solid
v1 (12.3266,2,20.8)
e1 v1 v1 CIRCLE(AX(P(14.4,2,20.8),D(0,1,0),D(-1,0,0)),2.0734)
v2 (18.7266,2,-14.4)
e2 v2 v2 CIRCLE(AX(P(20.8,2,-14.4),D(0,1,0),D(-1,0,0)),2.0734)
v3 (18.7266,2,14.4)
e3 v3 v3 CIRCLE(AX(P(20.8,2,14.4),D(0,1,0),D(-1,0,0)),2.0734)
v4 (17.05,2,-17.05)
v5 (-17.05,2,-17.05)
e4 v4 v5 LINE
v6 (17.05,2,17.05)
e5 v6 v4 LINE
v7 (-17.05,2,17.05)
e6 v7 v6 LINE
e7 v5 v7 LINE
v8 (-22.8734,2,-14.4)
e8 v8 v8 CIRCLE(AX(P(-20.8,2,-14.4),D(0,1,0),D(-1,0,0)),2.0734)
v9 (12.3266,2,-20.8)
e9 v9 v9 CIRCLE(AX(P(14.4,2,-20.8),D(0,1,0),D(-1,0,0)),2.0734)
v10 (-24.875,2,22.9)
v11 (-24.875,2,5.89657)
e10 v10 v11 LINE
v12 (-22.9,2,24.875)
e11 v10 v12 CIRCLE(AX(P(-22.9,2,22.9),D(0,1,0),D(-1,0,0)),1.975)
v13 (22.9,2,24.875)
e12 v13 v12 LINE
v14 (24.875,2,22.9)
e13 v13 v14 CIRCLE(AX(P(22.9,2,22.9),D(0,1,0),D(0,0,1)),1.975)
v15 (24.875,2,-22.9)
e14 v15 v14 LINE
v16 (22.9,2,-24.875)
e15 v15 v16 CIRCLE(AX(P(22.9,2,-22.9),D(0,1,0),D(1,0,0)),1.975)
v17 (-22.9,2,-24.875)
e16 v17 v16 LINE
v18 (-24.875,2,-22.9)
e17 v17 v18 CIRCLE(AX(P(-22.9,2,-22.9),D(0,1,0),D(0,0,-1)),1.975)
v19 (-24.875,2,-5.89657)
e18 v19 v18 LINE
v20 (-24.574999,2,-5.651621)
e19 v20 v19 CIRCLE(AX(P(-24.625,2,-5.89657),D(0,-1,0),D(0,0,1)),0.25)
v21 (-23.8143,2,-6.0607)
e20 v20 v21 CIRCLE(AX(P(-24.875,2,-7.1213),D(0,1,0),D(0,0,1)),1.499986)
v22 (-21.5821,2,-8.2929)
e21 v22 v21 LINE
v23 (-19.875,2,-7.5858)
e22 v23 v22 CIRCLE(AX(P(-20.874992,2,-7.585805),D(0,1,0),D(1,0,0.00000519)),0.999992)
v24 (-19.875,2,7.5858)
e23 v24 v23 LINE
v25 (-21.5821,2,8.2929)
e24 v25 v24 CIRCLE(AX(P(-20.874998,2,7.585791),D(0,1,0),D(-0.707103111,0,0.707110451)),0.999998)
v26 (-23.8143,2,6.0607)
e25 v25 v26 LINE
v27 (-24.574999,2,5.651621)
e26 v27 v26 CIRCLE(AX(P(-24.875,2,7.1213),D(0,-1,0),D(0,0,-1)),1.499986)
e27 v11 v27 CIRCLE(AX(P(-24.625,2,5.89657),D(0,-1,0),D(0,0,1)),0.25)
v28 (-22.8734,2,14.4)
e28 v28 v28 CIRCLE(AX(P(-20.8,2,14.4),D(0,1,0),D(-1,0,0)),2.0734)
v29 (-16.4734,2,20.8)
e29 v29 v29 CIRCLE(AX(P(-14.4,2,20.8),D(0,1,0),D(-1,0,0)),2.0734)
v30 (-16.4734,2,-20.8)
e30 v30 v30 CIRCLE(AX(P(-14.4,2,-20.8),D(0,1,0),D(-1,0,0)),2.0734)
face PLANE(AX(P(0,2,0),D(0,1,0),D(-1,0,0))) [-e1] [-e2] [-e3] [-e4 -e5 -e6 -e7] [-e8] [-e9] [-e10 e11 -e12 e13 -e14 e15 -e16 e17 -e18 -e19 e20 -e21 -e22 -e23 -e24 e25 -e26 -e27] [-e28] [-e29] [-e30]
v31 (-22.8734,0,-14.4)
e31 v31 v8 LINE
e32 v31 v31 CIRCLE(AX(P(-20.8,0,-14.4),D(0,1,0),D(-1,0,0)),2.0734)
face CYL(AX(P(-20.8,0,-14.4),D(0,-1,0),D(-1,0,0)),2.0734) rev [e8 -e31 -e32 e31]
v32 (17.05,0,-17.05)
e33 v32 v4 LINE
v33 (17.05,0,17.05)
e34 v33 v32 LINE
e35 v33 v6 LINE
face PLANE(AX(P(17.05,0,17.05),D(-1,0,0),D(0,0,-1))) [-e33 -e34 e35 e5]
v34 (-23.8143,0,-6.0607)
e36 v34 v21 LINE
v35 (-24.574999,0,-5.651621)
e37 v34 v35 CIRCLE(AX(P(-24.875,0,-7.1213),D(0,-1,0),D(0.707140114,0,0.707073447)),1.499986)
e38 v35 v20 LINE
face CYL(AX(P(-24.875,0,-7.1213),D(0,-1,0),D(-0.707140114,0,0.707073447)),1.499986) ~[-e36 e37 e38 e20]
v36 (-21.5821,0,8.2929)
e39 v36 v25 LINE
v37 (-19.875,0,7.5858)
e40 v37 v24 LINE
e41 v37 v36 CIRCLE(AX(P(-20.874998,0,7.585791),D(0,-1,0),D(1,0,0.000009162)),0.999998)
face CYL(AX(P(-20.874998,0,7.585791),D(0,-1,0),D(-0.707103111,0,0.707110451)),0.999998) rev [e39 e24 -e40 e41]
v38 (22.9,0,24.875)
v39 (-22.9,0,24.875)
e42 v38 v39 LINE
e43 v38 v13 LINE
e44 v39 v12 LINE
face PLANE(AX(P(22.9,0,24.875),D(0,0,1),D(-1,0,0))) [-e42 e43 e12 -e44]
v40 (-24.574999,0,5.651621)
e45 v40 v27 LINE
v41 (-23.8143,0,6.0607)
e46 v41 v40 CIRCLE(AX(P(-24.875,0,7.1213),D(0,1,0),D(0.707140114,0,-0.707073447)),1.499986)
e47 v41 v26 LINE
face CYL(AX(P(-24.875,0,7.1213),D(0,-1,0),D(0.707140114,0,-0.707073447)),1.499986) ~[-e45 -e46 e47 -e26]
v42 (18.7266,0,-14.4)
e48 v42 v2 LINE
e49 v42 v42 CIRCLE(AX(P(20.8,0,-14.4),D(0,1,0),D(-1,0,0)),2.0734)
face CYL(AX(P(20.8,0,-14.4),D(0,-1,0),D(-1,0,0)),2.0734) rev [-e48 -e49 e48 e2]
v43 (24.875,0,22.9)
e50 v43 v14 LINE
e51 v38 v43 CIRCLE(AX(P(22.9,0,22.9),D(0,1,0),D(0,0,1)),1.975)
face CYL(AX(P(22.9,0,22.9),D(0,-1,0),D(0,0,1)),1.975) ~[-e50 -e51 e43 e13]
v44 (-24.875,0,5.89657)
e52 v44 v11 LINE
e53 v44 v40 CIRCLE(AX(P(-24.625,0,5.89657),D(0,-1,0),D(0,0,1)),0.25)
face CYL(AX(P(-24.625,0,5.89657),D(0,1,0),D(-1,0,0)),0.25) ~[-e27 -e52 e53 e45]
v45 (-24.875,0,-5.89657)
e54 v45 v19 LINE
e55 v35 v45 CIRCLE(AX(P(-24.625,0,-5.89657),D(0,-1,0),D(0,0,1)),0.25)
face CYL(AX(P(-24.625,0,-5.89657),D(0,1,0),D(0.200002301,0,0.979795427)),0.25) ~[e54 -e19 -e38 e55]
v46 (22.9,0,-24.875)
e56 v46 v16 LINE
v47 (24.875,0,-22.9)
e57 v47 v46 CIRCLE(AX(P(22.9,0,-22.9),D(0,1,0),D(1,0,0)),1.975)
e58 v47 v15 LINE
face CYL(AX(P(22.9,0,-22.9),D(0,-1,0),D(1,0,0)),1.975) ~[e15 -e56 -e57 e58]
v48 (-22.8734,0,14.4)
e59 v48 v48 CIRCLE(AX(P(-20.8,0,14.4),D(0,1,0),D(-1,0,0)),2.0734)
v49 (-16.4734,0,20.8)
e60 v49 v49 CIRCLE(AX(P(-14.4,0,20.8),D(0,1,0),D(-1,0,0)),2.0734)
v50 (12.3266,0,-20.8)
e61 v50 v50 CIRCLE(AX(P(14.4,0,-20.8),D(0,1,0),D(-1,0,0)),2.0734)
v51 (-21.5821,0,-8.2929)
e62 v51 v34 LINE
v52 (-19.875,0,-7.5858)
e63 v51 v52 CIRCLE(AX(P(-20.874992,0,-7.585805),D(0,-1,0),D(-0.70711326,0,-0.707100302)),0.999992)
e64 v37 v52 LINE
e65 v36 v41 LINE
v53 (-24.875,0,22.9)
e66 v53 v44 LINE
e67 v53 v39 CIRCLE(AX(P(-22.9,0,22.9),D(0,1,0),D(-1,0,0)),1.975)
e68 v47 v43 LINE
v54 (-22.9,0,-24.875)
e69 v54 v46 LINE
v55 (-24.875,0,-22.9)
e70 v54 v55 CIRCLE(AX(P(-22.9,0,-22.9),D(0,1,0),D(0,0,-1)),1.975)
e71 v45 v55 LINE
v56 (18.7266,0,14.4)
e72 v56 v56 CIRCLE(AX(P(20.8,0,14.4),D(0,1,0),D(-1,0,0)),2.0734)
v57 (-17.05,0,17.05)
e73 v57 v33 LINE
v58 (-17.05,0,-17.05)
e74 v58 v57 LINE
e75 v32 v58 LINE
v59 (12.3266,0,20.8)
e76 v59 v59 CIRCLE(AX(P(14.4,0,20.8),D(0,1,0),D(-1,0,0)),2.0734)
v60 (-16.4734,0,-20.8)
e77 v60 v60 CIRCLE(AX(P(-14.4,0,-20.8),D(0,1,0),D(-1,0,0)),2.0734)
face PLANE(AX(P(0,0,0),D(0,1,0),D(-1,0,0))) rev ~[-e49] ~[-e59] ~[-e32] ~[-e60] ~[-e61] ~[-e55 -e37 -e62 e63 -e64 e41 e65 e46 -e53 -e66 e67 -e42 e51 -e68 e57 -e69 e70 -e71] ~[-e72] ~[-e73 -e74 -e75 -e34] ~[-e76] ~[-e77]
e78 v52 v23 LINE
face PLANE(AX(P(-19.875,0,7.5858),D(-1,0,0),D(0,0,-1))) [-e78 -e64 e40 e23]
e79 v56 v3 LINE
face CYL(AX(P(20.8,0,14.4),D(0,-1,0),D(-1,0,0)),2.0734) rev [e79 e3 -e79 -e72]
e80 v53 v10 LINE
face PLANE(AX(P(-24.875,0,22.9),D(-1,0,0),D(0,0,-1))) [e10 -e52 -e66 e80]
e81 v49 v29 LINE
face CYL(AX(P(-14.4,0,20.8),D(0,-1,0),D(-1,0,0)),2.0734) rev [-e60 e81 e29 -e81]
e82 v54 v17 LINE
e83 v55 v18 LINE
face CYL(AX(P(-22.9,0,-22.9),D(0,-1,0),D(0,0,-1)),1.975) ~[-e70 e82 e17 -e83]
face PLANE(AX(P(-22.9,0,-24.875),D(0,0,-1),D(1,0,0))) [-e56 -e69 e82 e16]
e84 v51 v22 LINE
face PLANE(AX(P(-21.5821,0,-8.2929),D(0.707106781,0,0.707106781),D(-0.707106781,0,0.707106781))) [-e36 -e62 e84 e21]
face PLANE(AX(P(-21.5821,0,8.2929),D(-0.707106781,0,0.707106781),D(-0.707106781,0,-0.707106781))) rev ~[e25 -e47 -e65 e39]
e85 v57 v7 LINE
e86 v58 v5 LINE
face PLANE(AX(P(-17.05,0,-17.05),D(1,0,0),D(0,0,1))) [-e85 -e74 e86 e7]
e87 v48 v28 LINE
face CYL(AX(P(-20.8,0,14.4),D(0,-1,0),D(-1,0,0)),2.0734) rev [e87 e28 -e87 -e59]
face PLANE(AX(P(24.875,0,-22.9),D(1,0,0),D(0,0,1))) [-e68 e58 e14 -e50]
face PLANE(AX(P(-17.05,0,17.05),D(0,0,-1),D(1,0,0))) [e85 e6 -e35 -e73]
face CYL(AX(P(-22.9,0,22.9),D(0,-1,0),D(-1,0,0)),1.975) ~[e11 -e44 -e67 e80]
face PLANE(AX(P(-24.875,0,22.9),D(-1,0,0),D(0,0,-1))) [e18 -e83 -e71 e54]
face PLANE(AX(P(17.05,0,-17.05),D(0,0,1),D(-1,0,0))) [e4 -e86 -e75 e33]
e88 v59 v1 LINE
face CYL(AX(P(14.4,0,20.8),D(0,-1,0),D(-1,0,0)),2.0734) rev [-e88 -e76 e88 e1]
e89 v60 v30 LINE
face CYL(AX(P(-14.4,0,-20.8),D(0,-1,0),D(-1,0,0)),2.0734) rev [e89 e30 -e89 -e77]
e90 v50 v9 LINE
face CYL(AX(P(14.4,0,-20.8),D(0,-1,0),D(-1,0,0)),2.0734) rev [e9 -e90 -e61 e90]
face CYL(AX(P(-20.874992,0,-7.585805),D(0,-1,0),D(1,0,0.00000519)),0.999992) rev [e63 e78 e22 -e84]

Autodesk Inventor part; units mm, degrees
ref_plane "YZ Plane" through (0, 0, 0) normal (1, 0, 0) x (0, 1, 0)
ref_plane "XZ Plane" through (0, 0, 0) normal (0, 1, 0) x (-1, 0, 0)
ref_plane "XY Plane" through (0, 0, 0) normal (0, 0, 1) x (1, 0, 0)
sketch "Sketch1" plane through (0, 0, 0) normal (0, 1, 0) x (-1, 0, 0)
  circle A0 centre (-21.9, -21.9) radius 1.875 projected
  circle A1 centre (21.9, 21.9) radius 1.875 projected
  circle A2 centre (21.9, -21.9) radius 1.875 projected
  circle A3 centre (-21.9, 21.9) radius 1.875 projected
  circle A4 centre (14.4, 20.8) radius 2.0734 projected
  circle A5 centre (-14.4, -20.8) radius 2.0734 projected
  circle A6 centre (14.4, -20.8) radius 2.0734 projected
  circle A7 centre (20.8, -14.4) radius 2.0734 projected
  line L0 (-17.05, 17.05) -> (-17.05, -17.05) projected
  line L1 (17.05, 17.05) -> (-17.05, 17.05) projected
  line L2 (17.05, -17.05) -> (17.05, 17.05) projected
  line L3 (-17.05, -17.05) -> (17.05, -17.05) projected
  circle A8 centre (20.8, 14.4) radius 2.0734 projected
  circle A9 centre (-14.4, 20.8) radius 2.0734 projected
  circle A10 centre (-20.8, -14.4) radius 2.0734 projected
  circle A11 centre (-20.8, 14.4) radius 2.0734 projected
  line L4 (-22.9, 24.875) -> (22.9, 24.875) projected
  arc A12 (-22.9, 24.875) -> (-24.875, 22.9) centre (-22.9, 22.9) ccw projected
  line L5 (-24.875, -22.9) -> (-24.875, 22.9) projected
  arc A13 (-24.875, -22.9) -> (-22.9, -24.875) centre (-22.9, -22.9) ccw projected
  line L6 (22.9, -24.875) -> (-22.9, -24.875) projected
  arc A14 (22.9, -24.875) -> (24.875, -22.9) centre (22.9, -22.9) ccw projected
  line L7 (24.875, 22.9) -> (24.875, -22.9) projected
  arc A15 (24.875, 22.9) -> (22.9, 24.875) centre (22.9, 22.9) ccw projected
  arc A16 (24.9, 22.9) -> (22.9, 24.9) centre (22.9, 22.9) ccw projected
  line L8 (22.9, 24.9) -> (-22.9, 24.9) projected
  arc A17 (-22.9, 24.9) -> (-24.9, 22.9) centre (-22.9, 22.9) ccw projected
  line L9 (-24.9, 22.9) -> (-24.9, -22.9) projected
  arc A18 (-24.9, -22.9) -> (-22.9, -24.9) centre (-22.9, -22.9) ccw projected
  line L10 (-22.9, -24.9) -> (22.9, -24.9) projected
  arc A19 (22.9, -24.9) -> (24.9, -22.9) centre (22.9, -22.9) ccw projected
  line L11 (24.9, -22.9) -> (24.9, 22.9) projected
  point P0 (0, 0)
extrude "Extrusion1" add sketch "Sketch1" along normal blind 2 contours A0 | A1 | A2 | A3 | L4 A15 L7 A14 L6 A13 L5 A12
sketch "Sketch2" plane through (0, 0, 0) normal (0, 1, 0) x (-1, 0, 0)
  line L0 (-7.5858, -29.875) -> (7.5858, -29.875)
  line L1 (10, -29.875) -> (10, -19.875)
  line L2 (7.5858, -19.875) -> (-7.5858, -19.875)
  line L3 (-10, -19.875) -> (-10, -29.875)
  line L4 (-10, -29.875) -> (10, -19.875) construction
  line L5 (10, -29.875) -> (-10, -19.875) construction
  line L6 (-8.2929, -21.5821) -> (-6.0607, -23.8143)
  line L7 (-10, -19.875) -> (-6.8431, -19.875) construction
  line L8 (8.2929, -21.5821) -> (6.0607, -23.8143)
  line L9 (-8.2929, -28.1679) -> (-6.0607, -25.9357)
  line L10 (8.2929, -28.1679) -> (6.0607, -25.9357)
  arc A0 (-8.2929, -28.1679) -> (-7.5858, -29.875) centre (-7.5858, -28.875) ccw
  arc A1 (7.5858, -29.875) -> (8.2929, -28.1679) centre (7.5858, -28.875) ccw
  arc A2 (-6.0607, -25.9357) -> (-6.0607, -23.8143) centre (-7.1213, -24.875) ccw
  arc A3 (6.0607, -23.8143) -> (6.0607, -25.9357) centre (7.1213, -24.875) ccw
  arc A4 (-7.5858, -19.875) -> (-8.2929, -21.5821) centre (-7.5858, -20.875) ccw
  arc A5 (8.2929, -21.5821) -> (7.5858, -19.875) centre (7.5858, -20.875) ccw
  line L11 (-7.5858, -19.95) -> (7.5858, -19.95)
  arc A6 (8.2399, -21.5291) -> (7.5858, -19.95) centre (7.5858, -20.875) ccw
  line L12 (8.2399, -21.5291) -> (6.0076, -23.7613)
  arc A7 (6.0076, -23.7613) -> (6.0076, -25.9887) centre (7.1213, -24.875) ccw
  line L13 (6.0076, -25.9887) -> (8.2399, -28.2209)
  arc A8 (7.5858, -29.8) -> (8.2399, -28.2209) centre (7.5858, -28.875) ccw
  line L14 (7.5858, -29.8) -> (-7.5858, -29.8)
  arc A9 (-8.2399, -28.2209) -> (-7.5858, -29.8) centre (-7.5858, -28.875) ccw
  line L15 (-8.2399, -28.2209) -> (-6.0076, -25.9887)
  arc A10 (-6.0076, -25.9887) -> (-6.0076, -23.7613) centre (-7.1213, -24.875) ccw
  line L16 (-6.0076, -23.7613) -> (-8.2399, -21.5291)
  arc A11 (-7.5858, -19.95) -> (-8.2399, -21.5291) centre (-7.5858, -20.875) ccw
  line L17 (-8.2399, 21.7791) -> (-6.0076, 24.0113)
  line L18 (-7.5858, 30.05) -> (7.5858, 30.05)
  line L19 (7.5858, 20.2) -> (-7.5858, 20.2)
  line L20 (-7.5858, 20.125) -> (7.5858, 20.125)
  line L21 (7.5858, 30.125) -> (-7.5858, 30.125)
  line L22 (10, 20.125) -> (-10, 30.125) construction
  line L23 (-10, 20.125) -> (10, 30.125) construction
  arc A12 (-6.0076, 24.0113) -> (-6.0076, 26.2387) centre (-7.1213, 25.125) ccw
  arc A13 (-6.0607, 24.0643) -> (-6.0607, 26.1857) centre (-7.1213, 25.125) ccw
  arc A14 (-7.5858, 30.05) -> (-8.2399, 28.4709) centre (-7.5858, 29.125) ccw
  arc A15 (-7.5858, 30.125) -> (-8.2929, 28.4179) centre (-7.5858, 29.125) ccw
  line L24 (-8.2929, 28.4179) -> (-6.0607, 26.1857)
  line L25 (-10, 30.125) -> (-6.8431, 30.125) construction
  line L26 (-10, 30.125) -> (-10, 20.125)
  arc A16 (-8.2399, 21.7791) -> (-7.5858, 20.2) centre (-7.5858, 21.125) ccw
  arc A17 (-8.2929, 21.8321) -> (-7.5858, 20.125) centre (-7.5858, 21.125) ccw
  line L27 (-8.2929, 21.8321) -> (-6.0607, 24.0643)
  line L28 (-6.0076, 26.2387) -> (-8.2399, 28.4709)
  line L29 (10, 20.125) -> (10, 30.125)
  line L30 (8.2929, 28.4179) -> (6.0607, 26.1857)
  line L31 (8.2929, 21.8321) -> (6.0607, 24.0643)
  arc A18 (7.5858, 20.125) -> (8.2929, 21.8321) centre (7.5858, 21.125) ccw
  arc A19 (6.0076, 26.2387) -> (6.0076, 24.0113) centre (7.1213, 25.125) ccw
  arc A20 (6.0607, 26.1857) -> (6.0607, 24.0643) centre (7.1213, 25.125) ccw
  arc A21 (7.5858, 20.2) -> (8.2399, 21.7791) centre (7.5858, 21.125) ccw
  line L32 (6.0076, 24.0113) -> (8.2399, 21.7791)
  line L33 (8.2399, 28.4709) -> (6.0076, 26.2387)
  arc A22 (8.2929, 28.4179) -> (7.5858, 30.125) centre (7.5858, 29.125) ccw
  arc A23 (8.2399, 28.4709) -> (7.5858, 30.05) centre (7.5858, 29.125) ccw
  line L34 (0, 24.875) -> (0, 25.125)
  line L35 (-22.9, -24.875) -> (22.9, -24.875) projected
  line L36 (22.9, 24.875) -> (-22.9, 24.875) projected
  line L37 (0, -24.875) -> (0, -24.875)
  line L38 (5.6213, 25.125) -> (5.5463, 25.125)
  line L39 (5.5463, 25.125) -> (5.5463, 24.875)
  line L40 (5.5463, 24.875) -> (5.6213, 24.875)
  line L41 (5.6213, 24.875) -> (5.6213, 25.125)
  line L42 (-5.6213, 25.125) -> (-5.5463, 25.125)
  line L43 (-5.5463, 25.125) -> (-5.5463, 24.875)
  line L44 (-5.5463, 24.875) -> (-5.6213, 24.875)
  line L45 (-5.6213, 24.875) -> (-5.6213, 25.125)
  line L46 (-5.6213, -24.875) -> (-5.5463, -24.875)
  line L47 (-5.5463, -24.875) -> (-5.5463, -24.875)
  line L48 (-5.5463, -24.875) -> (-5.6213, -24.875)
  line L49 (-5.6213, -24.875) -> (-5.6213, -24.875)
  line L50 (5.6213, -24.875) -> (5.5463, -24.875)
  line L51 (5.5463, -24.875) -> (5.5463, -24.875)
  line L52 (5.5463, -24.875) -> (5.6213, -24.875)
  line L53 (5.6213, -24.875) -> (5.6213, -24.875)
  arc A24 (19.95, -7.5858) -> (21.5291, -8.2399) centre (20.875, -7.5858) ccw
  arc A25 (19.875, -7.5858) -> (21.5821, -8.2929) centre (20.875, -7.5858) ccw
  line L54 (21.5821, -8.2929) -> (23.8143, -6.0607)
  line L55 (23.7613, -6.0076) -> (21.5291, -8.2399)
  arc A26 (25.9357, -6.0607) -> (23.8143, -6.0607) centre (24.875, -7.1213) ccw
  arc A27 (25.9887, -6.0076) -> (23.7613, -6.0076) centre (24.875, -7.1213) ccw
  line L56 (29.875, -7.5858) -> (29.875, 7.5858)
  line L57 (29.8, 7.5858) -> (29.8, -7.5858)
  line L58 (19.95, -7.5858) -> (19.95, 7.5858)
  line L59 (19.875, 7.5858) -> (19.875, -7.5858)
  line L60 (28.2209, -8.2399) -> (25.9887, -6.0076)
  line L61 (21.5821, 8.2929) -> (23.8143, 6.0607)
  line L62 (28.1679, 8.2929) -> (25.9357, 6.0607)
  arc A28 (29.875, 7.5858) -> (28.1679, 8.2929) centre (28.875, 7.5858) ccw
  arc A29 (23.7613, 6.0076) -> (25.9887, 6.0076) centre (24.875, 7.1213) ccw
  line L63 (24.875, 5.5463) -> (24.875, 5.5463)
  line L64 (24.875, 5.6213) -> (24.875, 5.5463)
  line L65 (24.875, 5.5463) -> (24.875, 5.6213)
  line L66 (24.875, 5.6213) -> (24.875, 5.6213)
  arc A30 (23.8143, 6.0607) -> (25.9357, 6.0607) centre (24.875, 7.1213) ccw
  line L67 (25.9887, 6.0076) -> (28.2209, 8.2399)
  arc A31 (29.8, 7.5858) -> (28.2209, 8.2399) centre (28.875, 7.5858) ccw
  line L68 (21.5291, 8.2399) -> (23.7613, 6.0076)
  arc A32 (21.5291, 8.2399) -> (19.95, 7.5858) centre (20.875, 7.5858) ccw
  arc A33 (21.5821, 8.2929) -> (19.875, 7.5858) centre (20.875, 7.5858) ccw
  line L69 (24.875, -5.5463) -> (24.875, -5.5463)
  line L70 (24.875, -5.5463) -> (24.875, -5.6213)
  line L71 (24.875, -5.6213) -> (24.875, -5.5463)
  line L72 (24.875, -5.6213) -> (24.875, -5.6213)
  line L73 (24.875, 0) -> (24.875, 0)
  line L74 (28.1679, -8.2929) -> (25.9357, -6.0607)
  arc A34 (28.1679, -8.2929) -> (29.875, -7.5858) centre (28.875, -7.5858) ccw
  arc A35 (28.2209, -8.2399) -> (29.8, -7.5858) centre (28.875, -7.5858) ccw
  line L75 (-25.125, 5.6213) -> (-25.125, 5.5463)
  arc A36 (-28.4709, 8.2399) -> (-30.05, 7.5858) centre (-29.125, 7.5858) ccw
  arc A37 (-28.4179, 8.2929) -> (-30.125, 7.5858) centre (-29.125, 7.5858) ccw
  line L76 (-28.4179, 8.2929) -> (-26.1857, 6.0607)
  line L77 (-24.875, 5.5463) -> (-24.875, 5.6213)
  arc A38 (-26.2387, 6.0076) -> (-24.0113, 6.0076) centre (-25.125, 7.1213) ccw
  line L78 (-21.8321, 8.2929) -> (-24.0643, 6.0607)
  line L79 (-24.875, 0) -> (-25.125, 0)
  arc A39 (-20.2, 7.5858) -> (-21.7791, 8.2399) centre (-21.125, 7.5858) ccw
  arc A40 (-20.125, 7.5858) -> (-21.8321, 8.2929) centre (-21.125, 7.5858) ccw
  line L80 (-30.05, -7.5858) -> (-30.05, 7.5858)
  line L81 (-30.125, 7.5858) -> (-30.125, -7.5858)
  line L82 (-20.2, 7.5858) -> (-20.2, -7.5858)
  line L83 (-20.125, -7.5858) -> (-20.125, 7.5858)
  line L84 (-24.875, 5.6213) -> (-25.125, 5.6213)
  arc A41 (-26.1857, 6.0607) -> (-24.0643, 6.0607) centre (-25.125, 7.1213) ccw
  line L85 (-24.0113, 6.0076) -> (-21.7791, 8.2399)
  line L86 (-25.125, 5.5463) -> (-24.875, 5.5463)
  line L87 (-28.4709, 8.2399) -> (-26.2387, 6.0076)
  line L88 (-25.125, -5.5463) -> (-24.875, -5.5463)
  line L89 (-24.875, -5.5463) -> (-24.875, -5.6213)
  line L90 (-24.875, -5.6213) -> (-25.125, -5.6213)
  line L91 (-25.125, -5.6213) -> (-25.125, -5.5463)
  arc A42 (-30.05, -7.5858) -> (-28.4709, -8.2399) centre (-29.125, -7.5858) ccw
  arc A43 (-21.8321, -8.2929) -> (-20.125, -7.5858) centre (-21.125, -7.5858) ccw
  arc A44 (-21.7791, -8.2399) -> (-20.2, -7.5858) centre (-21.125, -7.5858) ccw
  arc A45 (-24.0113, -6.0076) -> (-26.2387, -6.0076) centre (-25.125, -7.1213) ccw
  arc A46 (-24.0643, -6.0607) -> (-26.1857, -6.0607) centre (-25.125, -7.1213) ccw
  line L92 (-21.7791, -8.2399) -> (-24.0113, -6.0076)
  line L93 (-21.8321, -8.2929) -> (-24.0643, -6.0607)
  line L94 (-28.4179, -8.2929) -> (-26.1857, -6.0607)
  line L95 (-26.2387, -6.0076) -> (-28.4709, -8.2399)
  arc A47 (-30.125, -7.5858) -> (-28.4179, -8.2929) centre (-29.125, -7.5858) ccw
  arc A48 (7.5858, 19.95) -> (8.2399, 21.5291) centre (7.5858, 20.875) ccw
  arc A49 (7.5858, 19.875) -> (8.2929, 21.5821) centre (7.5858, 20.875) ccw
  line L96 (8.2929, 21.5821) -> (6.0607, 23.8143)
  line L97 (6.0076, 23.7613) -> (8.2399, 21.5291)
  arc A50 (6.0607, 25.9357) -> (6.0607, 23.8143) centre (7.1213, 24.875) ccw
  arc A51 (6.0076, 25.9887) -> (6.0076, 23.7613) centre (7.1213, 24.875) ccw
  line L98 (7.5858, 29.875) -> (-7.5858, 29.875)
  line L99 (-7.5858, 29.8) -> (7.5858, 29.8)
  line L100 (7.5858, 19.95) -> (-7.5858, 19.95)
  line L101 (-7.5858, 19.875) -> (7.5858, 19.875)
  line L102 (8.2399, 28.2209) -> (6.0076, 25.9887)
  line L103 (-8.2929, 21.5821) -> (-6.0607, 23.8143)
  line L104 (-8.2929, 28.1679) -> (-6.0607, 25.9357)
  arc A52 (-7.5858, 29.875) -> (-8.2929, 28.1679) centre (-7.5858, 28.875) ccw
  arc A53 (-6.0076, 23.7613) -> (-6.0076, 25.9887) centre (-7.1213, 24.875) ccw
  line L105 (-5.5463, 24.875) -> (-5.5463, 24.875)
  line L106 (-5.6213, 24.875) -> (-5.5463, 24.875)
  line L107 (-5.5463, 24.875) -> (-5.6213, 24.875)
  line L108 (-5.6213, 24.875) -> (-5.6213, 24.875)
  arc A54 (-6.0607, 23.8143) -> (-6.0607, 25.9357) centre (-7.1213, 24.875) ccw
  line L109 (-6.0076, 25.9887) -> (-8.2399, 28.2209)
  arc A55 (-7.5858, 29.8) -> (-8.2399, 28.2209) centre (-7.5858, 28.875) ccw
  line L110 (-8.2399, 21.5291) -> (-6.0076, 23.7613)
  arc A56 (-8.2399, 21.5291) -> (-7.5858, 19.95) centre (-7.5858, 20.875) ccw
  arc A57 (-8.2929, 21.5821) -> (-7.5858, 19.875) centre (-7.5858, 20.875) ccw
  line L111 (5.5463, 24.875) -> (5.5463, 24.875)
  line L112 (5.5463, 24.875) -> (5.6213, 24.875)
  line L113 (5.6213, 24.875) -> (5.5463, 24.875)
  line L114 (5.6213, 24.875) -> (5.6213, 24.875)
  line L115 (0, 24.875) -> (0, 24.875)
  line L116 (8.2929, 28.1679) -> (6.0607, 25.9357)
  arc A58 (8.2929, 28.1679) -> (7.5858, 29.875) centre (7.5858, 28.875) ccw
  arc A59 (8.2399, 28.2209) -> (7.5858, 29.8) centre (7.5858, 28.875) ccw
  line L117 (-5.6213, -25.125) -> (-5.5463, -25.125)
  arc A60 (-8.2399, -28.4709) -> (-7.5858, -30.05) centre (-7.5858, -29.125) ccw
  arc A61 (-8.2929, -28.4179) -> (-7.5858, -30.125) centre (-7.5858, -29.125) ccw
  line L118 (-8.2929, -28.4179) -> (-6.0607, -26.1857)
  line L119 (-5.5463, -24.875) -> (-5.6213, -24.875)
  arc A62 (-6.0076, -26.2387) -> (-6.0076, -24.0113) centre (-7.1213, -25.125) ccw
  line L120 (-8.2929, -21.8321) -> (-6.0607, -24.0643)
  line L121 (0, -24.875) -> (0, -25.125)
  arc A63 (-7.5858, -20.2) -> (-8.2399, -21.7791) centre (-7.5858, -21.125) ccw
  arc A64 (-7.5858, -20.125) -> (-8.2929, -21.8321) centre (-7.5858, -21.125) ccw
  line L122 (7.5858, -30.05) -> (-7.5858, -30.05)
  line L123 (-7.5858, -30.125) -> (7.5858, -30.125)
  line L124 (-7.5858, -20.2) -> (7.5858, -20.2)
  line L125 (7.5858, -20.125) -> (-7.5858, -20.125)
  line L126 (-5.6213, -24.875) -> (-5.6213, -25.125)
  arc A65 (-6.0607, -26.1857) -> (-6.0607, -24.0643) centre (-7.1213, -25.125) ccw
  line L127 (-6.0076, -24.0113) -> (-8.2399, -21.7791)
  line L128 (-5.5463, -25.125) -> (-5.5463, -24.875)
  line L129 (-8.2399, -28.4709) -> (-6.0076, -26.2387)
  line L130 (5.5463, -25.125) -> (5.5463, -24.875)
  line L131 (5.5463, -24.875) -> (5.6213, -24.875)
  line L132 (5.6213, -24.875) -> (5.6213, -25.125)
  line L133 (5.6213, -25.125) -> (5.5463, -25.125)
  arc A66 (7.5858, -30.05) -> (8.2399, -28.4709) centre (7.5858, -29.125) ccw
  arc A67 (8.2929, -21.8321) -> (7.5858, -20.125) centre (7.5858, -21.125) ccw
  arc A68 (8.2399, -21.7791) -> (7.5858, -20.2) centre (7.5858, -21.125) ccw
  arc A69 (6.0076, -24.0113) -> (6.0076, -26.2387) centre (7.1213, -25.125) ccw
  arc A70 (6.0607, -24.0643) -> (6.0607, -26.1857) centre (7.1213, -25.125) ccw
  line L134 (8.2399, -21.7791) -> (6.0076, -24.0113)
  line L135 (8.2929, -21.8321) -> (6.0607, -24.0643)
  line L136 (8.2929, -28.4179) -> (6.0607, -26.1857)
  line L137 (6.0076, -26.2387) -> (8.2399, -28.4709)
  arc A71 (7.5858, -30.125) -> (8.2929, -28.4179) centre (7.5858, -29.125) ccw
  arc A72 (-19.95, 7.5858) -> (-21.5291, 8.2399) centre (-20.875, 7.5858) ccw
  arc A73 (-19.875, 7.5858) -> (-21.5821, 8.2929) centre (-20.875, 7.5858) ccw
  line L138 (-21.5821, 8.2929) -> (-23.8143, 6.0607)
  line L139 (-23.7613, 6.0076) -> (-21.5291, 8.2399)
  arc A74 (-25.9357, 6.0607) -> (-23.8143, 6.0607) centre (-24.875, 7.1213) ccw
  arc A75 (-25.9887, 6.0076) -> (-23.7613, 6.0076) centre (-24.875, 7.1213) ccw
  line L140 (-29.875, 7.5858) -> (-29.875, -7.5858)
  line L141 (-29.8, -7.5858) -> (-29.8, 7.5858)
  line L142 (-19.95, 7.5858) -> (-19.95, -7.5858)
  line L143 (-19.875, -7.5858) -> (-19.875, 7.5858)
  line L144 (-28.2209, 8.2399) -> (-25.9887, 6.0076)
  line L145 (-21.5821, -8.2929) -> (-23.8143, -6.0607)
  line L146 (-28.1679, -8.2929) -> (-25.9357, -6.0607)
  arc A76 (-29.875, -7.5858) -> (-28.1679, -8.2929) centre (-28.875, -7.5858) ccw
  arc A77 (-23.7613, -6.0076) -> (-25.9887, -6.0076) centre (-24.875, -7.1213) ccw
  line L147 (-24.875, -5.5463) -> (-24.875, -5.5463)
  line L148 (-24.875, -5.6213) -> (-24.875, -5.5463)
  line L149 (-24.875, -5.5463) -> (-24.875, -5.6213)
  line L150 (-24.875, -5.6213) -> (-24.875, -5.6213)
  arc A78 (-23.8143, -6.0607) -> (-25.9357, -6.0607) centre (-24.875, -7.1213) ccw
  line L151 (-25.9887, -6.0076) -> (-28.2209, -8.2399)
  arc A79 (-29.8, -7.5858) -> (-28.2209, -8.2399) centre (-28.875, -7.5858) ccw
  line L152 (-21.5291, -8.2399) -> (-23.7613, -6.0076)
  arc A80 (-21.5291, -8.2399) -> (-19.95, -7.5858) centre (-20.875, -7.5858) ccw
  arc A81 (-21.5821, -8.2929) -> (-19.875, -7.5858) centre (-20.875, -7.5858) ccw
  line L153 (-24.875, 5.5463) -> (-24.875, 5.5463)
  line L154 (-24.875, 5.5463) -> (-24.875, 5.6213)
  line L155 (-24.875, 5.6213) -> (-24.875, 5.5463)
  line L156 (-24.875, 5.6213) -> (-24.875, 5.6213)
  line L157 (-24.875, 0) -> (-24.875, 0)
  line L158 (-28.1679, 8.2929) -> (-25.9357, 6.0607)
  arc A82 (-28.1679, 8.2929) -> (-29.875, 7.5858) centre (-28.875, 7.5858) ccw
  arc A83 (-28.2209, 8.2399) -> (-29.8, 7.5858) centre (-28.875, 7.5858) ccw
  line L159 (25.125, -5.6213) -> (25.125, -5.5463)
  arc A84 (28.4709, -8.2399) -> (30.05, -7.5858) centre (29.125, -7.5858) ccw
  arc A85 (28.4179, -8.2929) -> (30.125, -7.5858) centre (29.125, -7.5858) ccw
  line L160 (28.4179, -8.2929) -> (26.1857, -6.0607)
  line L161 (24.875, -5.5463) -> (24.875, -5.6213)
  arc A86 (26.2387, -6.0076) -> (24.0113, -6.0076) centre (25.125, -7.1213) ccw
  line L162 (21.8321, -8.2929) -> (24.0643, -6.0607)
  line L163 (24.875, 0) -> (25.125, 0)
  arc A87 (20.2, -7.5858) -> (21.7791, -8.2399) centre (21.125, -7.5858) ccw
  arc A88 (20.125, -7.5858) -> (21.8321, -8.2929) centre (21.125, -7.5858) ccw
  line L164 (30.05, 7.5858) -> (30.05, -7.5858)
  line L165 (30.125, -7.5858) -> (30.125, 7.5858)
  line L166 (20.2, -7.5858) -> (20.2, 7.5858)
  line L167 (20.125, 7.5858) -> (20.125, -7.5858)
  line L168 (24.875, -5.6213) -> (25.125, -5.6213)
  arc A89 (26.1857, -6.0607) -> (24.0643, -6.0607) centre (25.125, -7.1213) ccw
  line L169 (24.0113, -6.0076) -> (21.7791, -8.2399)
  line L170 (25.125, -5.5463) -> (24.875, -5.5463)
  line L171 (28.4709, -8.2399) -> (26.2387, -6.0076)
  line L172 (25.125, 5.5463) -> (24.875, 5.5463)
  line L173 (24.875, 5.5463) -> (24.875, 5.6213)
  line L174 (24.875, 5.6213) -> (25.125, 5.6213)
  line L175 (25.125, 5.6213) -> (25.125, 5.5463)
  arc A90 (30.05, 7.5858) -> (28.4709, 8.2399) centre (29.125, 7.5858) ccw
  arc A91 (21.8321, 8.2929) -> (20.125, 7.5858) centre (21.125, 7.5858) ccw
  arc A92 (21.7791, 8.2399) -> (20.2, 7.5858) centre (21.125, 7.5858) ccw
  arc A93 (24.0113, 6.0076) -> (26.2387, 6.0076) centre (25.125, 7.1213) ccw
  arc A94 (24.0643, 6.0607) -> (26.1857, 6.0607) centre (25.125, 7.1213) ccw
  line L176 (21.7791, 8.2399) -> (24.0113, 6.0076)
  line L177 (21.8321, 8.2929) -> (24.0643, 6.0607)
  line L178 (28.4179, 8.2929) -> (26.1857, 6.0607)
  line L179 (26.2387, 6.0076) -> (28.4709, 8.2399)
  arc A95 (30.125, 7.5858) -> (28.4179, 8.2929) centre (29.125, 7.5858) ccw
  line L180 (-22.9, -24.875) -> (22.9, -24.875) projected
  arc A96 (22.9, -24.875) -> (24.875, -22.9) centre (22.9, -22.9) ccw projected
  line L181 (24.875, -22.9) -> (24.875, 22.9) projected
  arc A97 (24.875, 22.9) -> (22.9, 24.875) centre (22.9, 22.9) ccw projected
  line L182 (22.9, 24.875) -> (-22.9, 24.875) projected
  arc A98 (-22.9, 24.875) -> (-24.875, 22.9) centre (-22.9, 22.9) ccw projected
  line L183 (-24.875, 22.9) -> (-24.875, -22.9) projected
  arc A99 (-24.875, -22.9) -> (-22.9, -24.875) centre (-22.9, -22.9) ccw projected
  circle A100 centre (-20.8, 14.4) radius 2.0734 projected
  circle A101 centre (-20.8, -14.4) radius 2.0734 projected
  circle A102 centre (-14.4, 20.8) radius 2.0734 projected
  circle A103 centre (20.8, 14.4) radius 2.0734 projected
  circle A104 centre (20.8, -14.4) radius 2.0734 projected
  circle A105 centre (14.4, -20.8) radius 2.0734 projected
  circle A106 centre (-14.4, -20.8) radius 2.0734 projected
  circle A107 centre (14.4, 20.8) radius 2.0734 projected
  line L184 (-17.05, 17.05) -> (17.05, 17.05) projected
  line L185 (17.05, 17.05) -> (17.05, -17.05) projected
  line L186 (17.05, -17.05) -> (-17.05, -17.05) projected
  line L187 (-17.05, -17.05) -> (-17.05, 17.05) projected
  point P0 (0, 0)
  point P1 (19.875, -6.8431)
  point P2 (19.875, -10)
  point P3 (29.875, -10)
  point P4 (29.875, 10)
  point P5 (19.875, 10)
  point P6 (-30.125, 10)
  point P7 (-20.125, 10)
  point P8 (-30.125, -10)
  point P9 (-20.125, -10)
  point P10 (-30.125, -6.8431)
  point P11 (6.8431, 19.875)
  point P12 (10, 19.875)
  point P13 (10, 29.875)
  point P14 (-10, 29.875)
  point P15 (-10, 19.875)
  point P16 (-10, -30.125)
  point P17 (-10, -20.125)
  point P18 (10, -30.125)
  point P19 (10, -20.125)
  point P20 (6.8431, -30.125)
  point P21 (-19.875, 6.8431)
  point P22 (-19.875, 10)
  point P23 (-29.875, 10)
  point P24 (-29.875, -10)
  point P25 (-19.875, -10)
  point P26 (30.125, -10)
  point P27 (20.125, -10)
  point P28 (30.125, 10)
  point P29 (20.125, 10)
  point P30 (30.125, 6.8431)
  point P31 (-21, 8.5023)
  point P32 (-24.625, 5.5463)
  point P33 (-25.125, 5.5463)
  point P34 (-25.125, -5.5463)
  point P35 (-24.625, -5.5463)
  point P36 (-21, -8.5023)
  point P37 (-5.5463, 25.125)
  point P38 (5.5463, 25.125)
  dimension "d19" = 20
  dimension "d20" = 10
  dimension "d21" = 45
  dimension "d22" = 1
  dimension "d23" = 1.5
  dimension "d24" = 1
  dimension "d25" = 0.075
  dimension "d28" = 15.1716
  dimension "d29" = 2.8787
  dimension "d30" = 2.8787
  dimension "d31" = 20
  dimension "d32" = 10
  dimension "d33" = 45
  dimension "d34" = 1
  dimension "d35" = 1.5
  dimension "d36" = 1
  dimension "d37" = 0.075
  dimension "d38" = 15.1716
  dimension "d39" = 2.8787
  dimension "d40" = 2.8787
  dimension "d41" = 0.25
  dimension "d42" = 0
  dimension "d45" = 360
extrude "Extrusion2" [suppressed]
extrude "Extrusion3" cut sketch "Sketch2" along normal up to surface (2 mm away) contours A26 A86 L70 | A26 L54 A25 A87 A24 L55 A27 L70 A86 | A88 A24 A87 A25 | A25 L59 A33 A91 A32 L58 A24 A88 | A27 L55 A24 A87 L166 A92 A32 L68 A29 L181 | A88 L167 A91 A32 A92 L166 A87 A24 | A24 L58 A32 A91 L167 A88 | A29 L68 A32 A92 A33 L61 A30 A93 L64 | A33 A92 A32 A91 | A93 A30 L64
fillet "Fillet1" radius 0.25 2 edges at (-24.875, 1, -5.6213) (-24.875, 1, 5.6213)
properties part number "Interlinking Baseplate Pathed Female"
